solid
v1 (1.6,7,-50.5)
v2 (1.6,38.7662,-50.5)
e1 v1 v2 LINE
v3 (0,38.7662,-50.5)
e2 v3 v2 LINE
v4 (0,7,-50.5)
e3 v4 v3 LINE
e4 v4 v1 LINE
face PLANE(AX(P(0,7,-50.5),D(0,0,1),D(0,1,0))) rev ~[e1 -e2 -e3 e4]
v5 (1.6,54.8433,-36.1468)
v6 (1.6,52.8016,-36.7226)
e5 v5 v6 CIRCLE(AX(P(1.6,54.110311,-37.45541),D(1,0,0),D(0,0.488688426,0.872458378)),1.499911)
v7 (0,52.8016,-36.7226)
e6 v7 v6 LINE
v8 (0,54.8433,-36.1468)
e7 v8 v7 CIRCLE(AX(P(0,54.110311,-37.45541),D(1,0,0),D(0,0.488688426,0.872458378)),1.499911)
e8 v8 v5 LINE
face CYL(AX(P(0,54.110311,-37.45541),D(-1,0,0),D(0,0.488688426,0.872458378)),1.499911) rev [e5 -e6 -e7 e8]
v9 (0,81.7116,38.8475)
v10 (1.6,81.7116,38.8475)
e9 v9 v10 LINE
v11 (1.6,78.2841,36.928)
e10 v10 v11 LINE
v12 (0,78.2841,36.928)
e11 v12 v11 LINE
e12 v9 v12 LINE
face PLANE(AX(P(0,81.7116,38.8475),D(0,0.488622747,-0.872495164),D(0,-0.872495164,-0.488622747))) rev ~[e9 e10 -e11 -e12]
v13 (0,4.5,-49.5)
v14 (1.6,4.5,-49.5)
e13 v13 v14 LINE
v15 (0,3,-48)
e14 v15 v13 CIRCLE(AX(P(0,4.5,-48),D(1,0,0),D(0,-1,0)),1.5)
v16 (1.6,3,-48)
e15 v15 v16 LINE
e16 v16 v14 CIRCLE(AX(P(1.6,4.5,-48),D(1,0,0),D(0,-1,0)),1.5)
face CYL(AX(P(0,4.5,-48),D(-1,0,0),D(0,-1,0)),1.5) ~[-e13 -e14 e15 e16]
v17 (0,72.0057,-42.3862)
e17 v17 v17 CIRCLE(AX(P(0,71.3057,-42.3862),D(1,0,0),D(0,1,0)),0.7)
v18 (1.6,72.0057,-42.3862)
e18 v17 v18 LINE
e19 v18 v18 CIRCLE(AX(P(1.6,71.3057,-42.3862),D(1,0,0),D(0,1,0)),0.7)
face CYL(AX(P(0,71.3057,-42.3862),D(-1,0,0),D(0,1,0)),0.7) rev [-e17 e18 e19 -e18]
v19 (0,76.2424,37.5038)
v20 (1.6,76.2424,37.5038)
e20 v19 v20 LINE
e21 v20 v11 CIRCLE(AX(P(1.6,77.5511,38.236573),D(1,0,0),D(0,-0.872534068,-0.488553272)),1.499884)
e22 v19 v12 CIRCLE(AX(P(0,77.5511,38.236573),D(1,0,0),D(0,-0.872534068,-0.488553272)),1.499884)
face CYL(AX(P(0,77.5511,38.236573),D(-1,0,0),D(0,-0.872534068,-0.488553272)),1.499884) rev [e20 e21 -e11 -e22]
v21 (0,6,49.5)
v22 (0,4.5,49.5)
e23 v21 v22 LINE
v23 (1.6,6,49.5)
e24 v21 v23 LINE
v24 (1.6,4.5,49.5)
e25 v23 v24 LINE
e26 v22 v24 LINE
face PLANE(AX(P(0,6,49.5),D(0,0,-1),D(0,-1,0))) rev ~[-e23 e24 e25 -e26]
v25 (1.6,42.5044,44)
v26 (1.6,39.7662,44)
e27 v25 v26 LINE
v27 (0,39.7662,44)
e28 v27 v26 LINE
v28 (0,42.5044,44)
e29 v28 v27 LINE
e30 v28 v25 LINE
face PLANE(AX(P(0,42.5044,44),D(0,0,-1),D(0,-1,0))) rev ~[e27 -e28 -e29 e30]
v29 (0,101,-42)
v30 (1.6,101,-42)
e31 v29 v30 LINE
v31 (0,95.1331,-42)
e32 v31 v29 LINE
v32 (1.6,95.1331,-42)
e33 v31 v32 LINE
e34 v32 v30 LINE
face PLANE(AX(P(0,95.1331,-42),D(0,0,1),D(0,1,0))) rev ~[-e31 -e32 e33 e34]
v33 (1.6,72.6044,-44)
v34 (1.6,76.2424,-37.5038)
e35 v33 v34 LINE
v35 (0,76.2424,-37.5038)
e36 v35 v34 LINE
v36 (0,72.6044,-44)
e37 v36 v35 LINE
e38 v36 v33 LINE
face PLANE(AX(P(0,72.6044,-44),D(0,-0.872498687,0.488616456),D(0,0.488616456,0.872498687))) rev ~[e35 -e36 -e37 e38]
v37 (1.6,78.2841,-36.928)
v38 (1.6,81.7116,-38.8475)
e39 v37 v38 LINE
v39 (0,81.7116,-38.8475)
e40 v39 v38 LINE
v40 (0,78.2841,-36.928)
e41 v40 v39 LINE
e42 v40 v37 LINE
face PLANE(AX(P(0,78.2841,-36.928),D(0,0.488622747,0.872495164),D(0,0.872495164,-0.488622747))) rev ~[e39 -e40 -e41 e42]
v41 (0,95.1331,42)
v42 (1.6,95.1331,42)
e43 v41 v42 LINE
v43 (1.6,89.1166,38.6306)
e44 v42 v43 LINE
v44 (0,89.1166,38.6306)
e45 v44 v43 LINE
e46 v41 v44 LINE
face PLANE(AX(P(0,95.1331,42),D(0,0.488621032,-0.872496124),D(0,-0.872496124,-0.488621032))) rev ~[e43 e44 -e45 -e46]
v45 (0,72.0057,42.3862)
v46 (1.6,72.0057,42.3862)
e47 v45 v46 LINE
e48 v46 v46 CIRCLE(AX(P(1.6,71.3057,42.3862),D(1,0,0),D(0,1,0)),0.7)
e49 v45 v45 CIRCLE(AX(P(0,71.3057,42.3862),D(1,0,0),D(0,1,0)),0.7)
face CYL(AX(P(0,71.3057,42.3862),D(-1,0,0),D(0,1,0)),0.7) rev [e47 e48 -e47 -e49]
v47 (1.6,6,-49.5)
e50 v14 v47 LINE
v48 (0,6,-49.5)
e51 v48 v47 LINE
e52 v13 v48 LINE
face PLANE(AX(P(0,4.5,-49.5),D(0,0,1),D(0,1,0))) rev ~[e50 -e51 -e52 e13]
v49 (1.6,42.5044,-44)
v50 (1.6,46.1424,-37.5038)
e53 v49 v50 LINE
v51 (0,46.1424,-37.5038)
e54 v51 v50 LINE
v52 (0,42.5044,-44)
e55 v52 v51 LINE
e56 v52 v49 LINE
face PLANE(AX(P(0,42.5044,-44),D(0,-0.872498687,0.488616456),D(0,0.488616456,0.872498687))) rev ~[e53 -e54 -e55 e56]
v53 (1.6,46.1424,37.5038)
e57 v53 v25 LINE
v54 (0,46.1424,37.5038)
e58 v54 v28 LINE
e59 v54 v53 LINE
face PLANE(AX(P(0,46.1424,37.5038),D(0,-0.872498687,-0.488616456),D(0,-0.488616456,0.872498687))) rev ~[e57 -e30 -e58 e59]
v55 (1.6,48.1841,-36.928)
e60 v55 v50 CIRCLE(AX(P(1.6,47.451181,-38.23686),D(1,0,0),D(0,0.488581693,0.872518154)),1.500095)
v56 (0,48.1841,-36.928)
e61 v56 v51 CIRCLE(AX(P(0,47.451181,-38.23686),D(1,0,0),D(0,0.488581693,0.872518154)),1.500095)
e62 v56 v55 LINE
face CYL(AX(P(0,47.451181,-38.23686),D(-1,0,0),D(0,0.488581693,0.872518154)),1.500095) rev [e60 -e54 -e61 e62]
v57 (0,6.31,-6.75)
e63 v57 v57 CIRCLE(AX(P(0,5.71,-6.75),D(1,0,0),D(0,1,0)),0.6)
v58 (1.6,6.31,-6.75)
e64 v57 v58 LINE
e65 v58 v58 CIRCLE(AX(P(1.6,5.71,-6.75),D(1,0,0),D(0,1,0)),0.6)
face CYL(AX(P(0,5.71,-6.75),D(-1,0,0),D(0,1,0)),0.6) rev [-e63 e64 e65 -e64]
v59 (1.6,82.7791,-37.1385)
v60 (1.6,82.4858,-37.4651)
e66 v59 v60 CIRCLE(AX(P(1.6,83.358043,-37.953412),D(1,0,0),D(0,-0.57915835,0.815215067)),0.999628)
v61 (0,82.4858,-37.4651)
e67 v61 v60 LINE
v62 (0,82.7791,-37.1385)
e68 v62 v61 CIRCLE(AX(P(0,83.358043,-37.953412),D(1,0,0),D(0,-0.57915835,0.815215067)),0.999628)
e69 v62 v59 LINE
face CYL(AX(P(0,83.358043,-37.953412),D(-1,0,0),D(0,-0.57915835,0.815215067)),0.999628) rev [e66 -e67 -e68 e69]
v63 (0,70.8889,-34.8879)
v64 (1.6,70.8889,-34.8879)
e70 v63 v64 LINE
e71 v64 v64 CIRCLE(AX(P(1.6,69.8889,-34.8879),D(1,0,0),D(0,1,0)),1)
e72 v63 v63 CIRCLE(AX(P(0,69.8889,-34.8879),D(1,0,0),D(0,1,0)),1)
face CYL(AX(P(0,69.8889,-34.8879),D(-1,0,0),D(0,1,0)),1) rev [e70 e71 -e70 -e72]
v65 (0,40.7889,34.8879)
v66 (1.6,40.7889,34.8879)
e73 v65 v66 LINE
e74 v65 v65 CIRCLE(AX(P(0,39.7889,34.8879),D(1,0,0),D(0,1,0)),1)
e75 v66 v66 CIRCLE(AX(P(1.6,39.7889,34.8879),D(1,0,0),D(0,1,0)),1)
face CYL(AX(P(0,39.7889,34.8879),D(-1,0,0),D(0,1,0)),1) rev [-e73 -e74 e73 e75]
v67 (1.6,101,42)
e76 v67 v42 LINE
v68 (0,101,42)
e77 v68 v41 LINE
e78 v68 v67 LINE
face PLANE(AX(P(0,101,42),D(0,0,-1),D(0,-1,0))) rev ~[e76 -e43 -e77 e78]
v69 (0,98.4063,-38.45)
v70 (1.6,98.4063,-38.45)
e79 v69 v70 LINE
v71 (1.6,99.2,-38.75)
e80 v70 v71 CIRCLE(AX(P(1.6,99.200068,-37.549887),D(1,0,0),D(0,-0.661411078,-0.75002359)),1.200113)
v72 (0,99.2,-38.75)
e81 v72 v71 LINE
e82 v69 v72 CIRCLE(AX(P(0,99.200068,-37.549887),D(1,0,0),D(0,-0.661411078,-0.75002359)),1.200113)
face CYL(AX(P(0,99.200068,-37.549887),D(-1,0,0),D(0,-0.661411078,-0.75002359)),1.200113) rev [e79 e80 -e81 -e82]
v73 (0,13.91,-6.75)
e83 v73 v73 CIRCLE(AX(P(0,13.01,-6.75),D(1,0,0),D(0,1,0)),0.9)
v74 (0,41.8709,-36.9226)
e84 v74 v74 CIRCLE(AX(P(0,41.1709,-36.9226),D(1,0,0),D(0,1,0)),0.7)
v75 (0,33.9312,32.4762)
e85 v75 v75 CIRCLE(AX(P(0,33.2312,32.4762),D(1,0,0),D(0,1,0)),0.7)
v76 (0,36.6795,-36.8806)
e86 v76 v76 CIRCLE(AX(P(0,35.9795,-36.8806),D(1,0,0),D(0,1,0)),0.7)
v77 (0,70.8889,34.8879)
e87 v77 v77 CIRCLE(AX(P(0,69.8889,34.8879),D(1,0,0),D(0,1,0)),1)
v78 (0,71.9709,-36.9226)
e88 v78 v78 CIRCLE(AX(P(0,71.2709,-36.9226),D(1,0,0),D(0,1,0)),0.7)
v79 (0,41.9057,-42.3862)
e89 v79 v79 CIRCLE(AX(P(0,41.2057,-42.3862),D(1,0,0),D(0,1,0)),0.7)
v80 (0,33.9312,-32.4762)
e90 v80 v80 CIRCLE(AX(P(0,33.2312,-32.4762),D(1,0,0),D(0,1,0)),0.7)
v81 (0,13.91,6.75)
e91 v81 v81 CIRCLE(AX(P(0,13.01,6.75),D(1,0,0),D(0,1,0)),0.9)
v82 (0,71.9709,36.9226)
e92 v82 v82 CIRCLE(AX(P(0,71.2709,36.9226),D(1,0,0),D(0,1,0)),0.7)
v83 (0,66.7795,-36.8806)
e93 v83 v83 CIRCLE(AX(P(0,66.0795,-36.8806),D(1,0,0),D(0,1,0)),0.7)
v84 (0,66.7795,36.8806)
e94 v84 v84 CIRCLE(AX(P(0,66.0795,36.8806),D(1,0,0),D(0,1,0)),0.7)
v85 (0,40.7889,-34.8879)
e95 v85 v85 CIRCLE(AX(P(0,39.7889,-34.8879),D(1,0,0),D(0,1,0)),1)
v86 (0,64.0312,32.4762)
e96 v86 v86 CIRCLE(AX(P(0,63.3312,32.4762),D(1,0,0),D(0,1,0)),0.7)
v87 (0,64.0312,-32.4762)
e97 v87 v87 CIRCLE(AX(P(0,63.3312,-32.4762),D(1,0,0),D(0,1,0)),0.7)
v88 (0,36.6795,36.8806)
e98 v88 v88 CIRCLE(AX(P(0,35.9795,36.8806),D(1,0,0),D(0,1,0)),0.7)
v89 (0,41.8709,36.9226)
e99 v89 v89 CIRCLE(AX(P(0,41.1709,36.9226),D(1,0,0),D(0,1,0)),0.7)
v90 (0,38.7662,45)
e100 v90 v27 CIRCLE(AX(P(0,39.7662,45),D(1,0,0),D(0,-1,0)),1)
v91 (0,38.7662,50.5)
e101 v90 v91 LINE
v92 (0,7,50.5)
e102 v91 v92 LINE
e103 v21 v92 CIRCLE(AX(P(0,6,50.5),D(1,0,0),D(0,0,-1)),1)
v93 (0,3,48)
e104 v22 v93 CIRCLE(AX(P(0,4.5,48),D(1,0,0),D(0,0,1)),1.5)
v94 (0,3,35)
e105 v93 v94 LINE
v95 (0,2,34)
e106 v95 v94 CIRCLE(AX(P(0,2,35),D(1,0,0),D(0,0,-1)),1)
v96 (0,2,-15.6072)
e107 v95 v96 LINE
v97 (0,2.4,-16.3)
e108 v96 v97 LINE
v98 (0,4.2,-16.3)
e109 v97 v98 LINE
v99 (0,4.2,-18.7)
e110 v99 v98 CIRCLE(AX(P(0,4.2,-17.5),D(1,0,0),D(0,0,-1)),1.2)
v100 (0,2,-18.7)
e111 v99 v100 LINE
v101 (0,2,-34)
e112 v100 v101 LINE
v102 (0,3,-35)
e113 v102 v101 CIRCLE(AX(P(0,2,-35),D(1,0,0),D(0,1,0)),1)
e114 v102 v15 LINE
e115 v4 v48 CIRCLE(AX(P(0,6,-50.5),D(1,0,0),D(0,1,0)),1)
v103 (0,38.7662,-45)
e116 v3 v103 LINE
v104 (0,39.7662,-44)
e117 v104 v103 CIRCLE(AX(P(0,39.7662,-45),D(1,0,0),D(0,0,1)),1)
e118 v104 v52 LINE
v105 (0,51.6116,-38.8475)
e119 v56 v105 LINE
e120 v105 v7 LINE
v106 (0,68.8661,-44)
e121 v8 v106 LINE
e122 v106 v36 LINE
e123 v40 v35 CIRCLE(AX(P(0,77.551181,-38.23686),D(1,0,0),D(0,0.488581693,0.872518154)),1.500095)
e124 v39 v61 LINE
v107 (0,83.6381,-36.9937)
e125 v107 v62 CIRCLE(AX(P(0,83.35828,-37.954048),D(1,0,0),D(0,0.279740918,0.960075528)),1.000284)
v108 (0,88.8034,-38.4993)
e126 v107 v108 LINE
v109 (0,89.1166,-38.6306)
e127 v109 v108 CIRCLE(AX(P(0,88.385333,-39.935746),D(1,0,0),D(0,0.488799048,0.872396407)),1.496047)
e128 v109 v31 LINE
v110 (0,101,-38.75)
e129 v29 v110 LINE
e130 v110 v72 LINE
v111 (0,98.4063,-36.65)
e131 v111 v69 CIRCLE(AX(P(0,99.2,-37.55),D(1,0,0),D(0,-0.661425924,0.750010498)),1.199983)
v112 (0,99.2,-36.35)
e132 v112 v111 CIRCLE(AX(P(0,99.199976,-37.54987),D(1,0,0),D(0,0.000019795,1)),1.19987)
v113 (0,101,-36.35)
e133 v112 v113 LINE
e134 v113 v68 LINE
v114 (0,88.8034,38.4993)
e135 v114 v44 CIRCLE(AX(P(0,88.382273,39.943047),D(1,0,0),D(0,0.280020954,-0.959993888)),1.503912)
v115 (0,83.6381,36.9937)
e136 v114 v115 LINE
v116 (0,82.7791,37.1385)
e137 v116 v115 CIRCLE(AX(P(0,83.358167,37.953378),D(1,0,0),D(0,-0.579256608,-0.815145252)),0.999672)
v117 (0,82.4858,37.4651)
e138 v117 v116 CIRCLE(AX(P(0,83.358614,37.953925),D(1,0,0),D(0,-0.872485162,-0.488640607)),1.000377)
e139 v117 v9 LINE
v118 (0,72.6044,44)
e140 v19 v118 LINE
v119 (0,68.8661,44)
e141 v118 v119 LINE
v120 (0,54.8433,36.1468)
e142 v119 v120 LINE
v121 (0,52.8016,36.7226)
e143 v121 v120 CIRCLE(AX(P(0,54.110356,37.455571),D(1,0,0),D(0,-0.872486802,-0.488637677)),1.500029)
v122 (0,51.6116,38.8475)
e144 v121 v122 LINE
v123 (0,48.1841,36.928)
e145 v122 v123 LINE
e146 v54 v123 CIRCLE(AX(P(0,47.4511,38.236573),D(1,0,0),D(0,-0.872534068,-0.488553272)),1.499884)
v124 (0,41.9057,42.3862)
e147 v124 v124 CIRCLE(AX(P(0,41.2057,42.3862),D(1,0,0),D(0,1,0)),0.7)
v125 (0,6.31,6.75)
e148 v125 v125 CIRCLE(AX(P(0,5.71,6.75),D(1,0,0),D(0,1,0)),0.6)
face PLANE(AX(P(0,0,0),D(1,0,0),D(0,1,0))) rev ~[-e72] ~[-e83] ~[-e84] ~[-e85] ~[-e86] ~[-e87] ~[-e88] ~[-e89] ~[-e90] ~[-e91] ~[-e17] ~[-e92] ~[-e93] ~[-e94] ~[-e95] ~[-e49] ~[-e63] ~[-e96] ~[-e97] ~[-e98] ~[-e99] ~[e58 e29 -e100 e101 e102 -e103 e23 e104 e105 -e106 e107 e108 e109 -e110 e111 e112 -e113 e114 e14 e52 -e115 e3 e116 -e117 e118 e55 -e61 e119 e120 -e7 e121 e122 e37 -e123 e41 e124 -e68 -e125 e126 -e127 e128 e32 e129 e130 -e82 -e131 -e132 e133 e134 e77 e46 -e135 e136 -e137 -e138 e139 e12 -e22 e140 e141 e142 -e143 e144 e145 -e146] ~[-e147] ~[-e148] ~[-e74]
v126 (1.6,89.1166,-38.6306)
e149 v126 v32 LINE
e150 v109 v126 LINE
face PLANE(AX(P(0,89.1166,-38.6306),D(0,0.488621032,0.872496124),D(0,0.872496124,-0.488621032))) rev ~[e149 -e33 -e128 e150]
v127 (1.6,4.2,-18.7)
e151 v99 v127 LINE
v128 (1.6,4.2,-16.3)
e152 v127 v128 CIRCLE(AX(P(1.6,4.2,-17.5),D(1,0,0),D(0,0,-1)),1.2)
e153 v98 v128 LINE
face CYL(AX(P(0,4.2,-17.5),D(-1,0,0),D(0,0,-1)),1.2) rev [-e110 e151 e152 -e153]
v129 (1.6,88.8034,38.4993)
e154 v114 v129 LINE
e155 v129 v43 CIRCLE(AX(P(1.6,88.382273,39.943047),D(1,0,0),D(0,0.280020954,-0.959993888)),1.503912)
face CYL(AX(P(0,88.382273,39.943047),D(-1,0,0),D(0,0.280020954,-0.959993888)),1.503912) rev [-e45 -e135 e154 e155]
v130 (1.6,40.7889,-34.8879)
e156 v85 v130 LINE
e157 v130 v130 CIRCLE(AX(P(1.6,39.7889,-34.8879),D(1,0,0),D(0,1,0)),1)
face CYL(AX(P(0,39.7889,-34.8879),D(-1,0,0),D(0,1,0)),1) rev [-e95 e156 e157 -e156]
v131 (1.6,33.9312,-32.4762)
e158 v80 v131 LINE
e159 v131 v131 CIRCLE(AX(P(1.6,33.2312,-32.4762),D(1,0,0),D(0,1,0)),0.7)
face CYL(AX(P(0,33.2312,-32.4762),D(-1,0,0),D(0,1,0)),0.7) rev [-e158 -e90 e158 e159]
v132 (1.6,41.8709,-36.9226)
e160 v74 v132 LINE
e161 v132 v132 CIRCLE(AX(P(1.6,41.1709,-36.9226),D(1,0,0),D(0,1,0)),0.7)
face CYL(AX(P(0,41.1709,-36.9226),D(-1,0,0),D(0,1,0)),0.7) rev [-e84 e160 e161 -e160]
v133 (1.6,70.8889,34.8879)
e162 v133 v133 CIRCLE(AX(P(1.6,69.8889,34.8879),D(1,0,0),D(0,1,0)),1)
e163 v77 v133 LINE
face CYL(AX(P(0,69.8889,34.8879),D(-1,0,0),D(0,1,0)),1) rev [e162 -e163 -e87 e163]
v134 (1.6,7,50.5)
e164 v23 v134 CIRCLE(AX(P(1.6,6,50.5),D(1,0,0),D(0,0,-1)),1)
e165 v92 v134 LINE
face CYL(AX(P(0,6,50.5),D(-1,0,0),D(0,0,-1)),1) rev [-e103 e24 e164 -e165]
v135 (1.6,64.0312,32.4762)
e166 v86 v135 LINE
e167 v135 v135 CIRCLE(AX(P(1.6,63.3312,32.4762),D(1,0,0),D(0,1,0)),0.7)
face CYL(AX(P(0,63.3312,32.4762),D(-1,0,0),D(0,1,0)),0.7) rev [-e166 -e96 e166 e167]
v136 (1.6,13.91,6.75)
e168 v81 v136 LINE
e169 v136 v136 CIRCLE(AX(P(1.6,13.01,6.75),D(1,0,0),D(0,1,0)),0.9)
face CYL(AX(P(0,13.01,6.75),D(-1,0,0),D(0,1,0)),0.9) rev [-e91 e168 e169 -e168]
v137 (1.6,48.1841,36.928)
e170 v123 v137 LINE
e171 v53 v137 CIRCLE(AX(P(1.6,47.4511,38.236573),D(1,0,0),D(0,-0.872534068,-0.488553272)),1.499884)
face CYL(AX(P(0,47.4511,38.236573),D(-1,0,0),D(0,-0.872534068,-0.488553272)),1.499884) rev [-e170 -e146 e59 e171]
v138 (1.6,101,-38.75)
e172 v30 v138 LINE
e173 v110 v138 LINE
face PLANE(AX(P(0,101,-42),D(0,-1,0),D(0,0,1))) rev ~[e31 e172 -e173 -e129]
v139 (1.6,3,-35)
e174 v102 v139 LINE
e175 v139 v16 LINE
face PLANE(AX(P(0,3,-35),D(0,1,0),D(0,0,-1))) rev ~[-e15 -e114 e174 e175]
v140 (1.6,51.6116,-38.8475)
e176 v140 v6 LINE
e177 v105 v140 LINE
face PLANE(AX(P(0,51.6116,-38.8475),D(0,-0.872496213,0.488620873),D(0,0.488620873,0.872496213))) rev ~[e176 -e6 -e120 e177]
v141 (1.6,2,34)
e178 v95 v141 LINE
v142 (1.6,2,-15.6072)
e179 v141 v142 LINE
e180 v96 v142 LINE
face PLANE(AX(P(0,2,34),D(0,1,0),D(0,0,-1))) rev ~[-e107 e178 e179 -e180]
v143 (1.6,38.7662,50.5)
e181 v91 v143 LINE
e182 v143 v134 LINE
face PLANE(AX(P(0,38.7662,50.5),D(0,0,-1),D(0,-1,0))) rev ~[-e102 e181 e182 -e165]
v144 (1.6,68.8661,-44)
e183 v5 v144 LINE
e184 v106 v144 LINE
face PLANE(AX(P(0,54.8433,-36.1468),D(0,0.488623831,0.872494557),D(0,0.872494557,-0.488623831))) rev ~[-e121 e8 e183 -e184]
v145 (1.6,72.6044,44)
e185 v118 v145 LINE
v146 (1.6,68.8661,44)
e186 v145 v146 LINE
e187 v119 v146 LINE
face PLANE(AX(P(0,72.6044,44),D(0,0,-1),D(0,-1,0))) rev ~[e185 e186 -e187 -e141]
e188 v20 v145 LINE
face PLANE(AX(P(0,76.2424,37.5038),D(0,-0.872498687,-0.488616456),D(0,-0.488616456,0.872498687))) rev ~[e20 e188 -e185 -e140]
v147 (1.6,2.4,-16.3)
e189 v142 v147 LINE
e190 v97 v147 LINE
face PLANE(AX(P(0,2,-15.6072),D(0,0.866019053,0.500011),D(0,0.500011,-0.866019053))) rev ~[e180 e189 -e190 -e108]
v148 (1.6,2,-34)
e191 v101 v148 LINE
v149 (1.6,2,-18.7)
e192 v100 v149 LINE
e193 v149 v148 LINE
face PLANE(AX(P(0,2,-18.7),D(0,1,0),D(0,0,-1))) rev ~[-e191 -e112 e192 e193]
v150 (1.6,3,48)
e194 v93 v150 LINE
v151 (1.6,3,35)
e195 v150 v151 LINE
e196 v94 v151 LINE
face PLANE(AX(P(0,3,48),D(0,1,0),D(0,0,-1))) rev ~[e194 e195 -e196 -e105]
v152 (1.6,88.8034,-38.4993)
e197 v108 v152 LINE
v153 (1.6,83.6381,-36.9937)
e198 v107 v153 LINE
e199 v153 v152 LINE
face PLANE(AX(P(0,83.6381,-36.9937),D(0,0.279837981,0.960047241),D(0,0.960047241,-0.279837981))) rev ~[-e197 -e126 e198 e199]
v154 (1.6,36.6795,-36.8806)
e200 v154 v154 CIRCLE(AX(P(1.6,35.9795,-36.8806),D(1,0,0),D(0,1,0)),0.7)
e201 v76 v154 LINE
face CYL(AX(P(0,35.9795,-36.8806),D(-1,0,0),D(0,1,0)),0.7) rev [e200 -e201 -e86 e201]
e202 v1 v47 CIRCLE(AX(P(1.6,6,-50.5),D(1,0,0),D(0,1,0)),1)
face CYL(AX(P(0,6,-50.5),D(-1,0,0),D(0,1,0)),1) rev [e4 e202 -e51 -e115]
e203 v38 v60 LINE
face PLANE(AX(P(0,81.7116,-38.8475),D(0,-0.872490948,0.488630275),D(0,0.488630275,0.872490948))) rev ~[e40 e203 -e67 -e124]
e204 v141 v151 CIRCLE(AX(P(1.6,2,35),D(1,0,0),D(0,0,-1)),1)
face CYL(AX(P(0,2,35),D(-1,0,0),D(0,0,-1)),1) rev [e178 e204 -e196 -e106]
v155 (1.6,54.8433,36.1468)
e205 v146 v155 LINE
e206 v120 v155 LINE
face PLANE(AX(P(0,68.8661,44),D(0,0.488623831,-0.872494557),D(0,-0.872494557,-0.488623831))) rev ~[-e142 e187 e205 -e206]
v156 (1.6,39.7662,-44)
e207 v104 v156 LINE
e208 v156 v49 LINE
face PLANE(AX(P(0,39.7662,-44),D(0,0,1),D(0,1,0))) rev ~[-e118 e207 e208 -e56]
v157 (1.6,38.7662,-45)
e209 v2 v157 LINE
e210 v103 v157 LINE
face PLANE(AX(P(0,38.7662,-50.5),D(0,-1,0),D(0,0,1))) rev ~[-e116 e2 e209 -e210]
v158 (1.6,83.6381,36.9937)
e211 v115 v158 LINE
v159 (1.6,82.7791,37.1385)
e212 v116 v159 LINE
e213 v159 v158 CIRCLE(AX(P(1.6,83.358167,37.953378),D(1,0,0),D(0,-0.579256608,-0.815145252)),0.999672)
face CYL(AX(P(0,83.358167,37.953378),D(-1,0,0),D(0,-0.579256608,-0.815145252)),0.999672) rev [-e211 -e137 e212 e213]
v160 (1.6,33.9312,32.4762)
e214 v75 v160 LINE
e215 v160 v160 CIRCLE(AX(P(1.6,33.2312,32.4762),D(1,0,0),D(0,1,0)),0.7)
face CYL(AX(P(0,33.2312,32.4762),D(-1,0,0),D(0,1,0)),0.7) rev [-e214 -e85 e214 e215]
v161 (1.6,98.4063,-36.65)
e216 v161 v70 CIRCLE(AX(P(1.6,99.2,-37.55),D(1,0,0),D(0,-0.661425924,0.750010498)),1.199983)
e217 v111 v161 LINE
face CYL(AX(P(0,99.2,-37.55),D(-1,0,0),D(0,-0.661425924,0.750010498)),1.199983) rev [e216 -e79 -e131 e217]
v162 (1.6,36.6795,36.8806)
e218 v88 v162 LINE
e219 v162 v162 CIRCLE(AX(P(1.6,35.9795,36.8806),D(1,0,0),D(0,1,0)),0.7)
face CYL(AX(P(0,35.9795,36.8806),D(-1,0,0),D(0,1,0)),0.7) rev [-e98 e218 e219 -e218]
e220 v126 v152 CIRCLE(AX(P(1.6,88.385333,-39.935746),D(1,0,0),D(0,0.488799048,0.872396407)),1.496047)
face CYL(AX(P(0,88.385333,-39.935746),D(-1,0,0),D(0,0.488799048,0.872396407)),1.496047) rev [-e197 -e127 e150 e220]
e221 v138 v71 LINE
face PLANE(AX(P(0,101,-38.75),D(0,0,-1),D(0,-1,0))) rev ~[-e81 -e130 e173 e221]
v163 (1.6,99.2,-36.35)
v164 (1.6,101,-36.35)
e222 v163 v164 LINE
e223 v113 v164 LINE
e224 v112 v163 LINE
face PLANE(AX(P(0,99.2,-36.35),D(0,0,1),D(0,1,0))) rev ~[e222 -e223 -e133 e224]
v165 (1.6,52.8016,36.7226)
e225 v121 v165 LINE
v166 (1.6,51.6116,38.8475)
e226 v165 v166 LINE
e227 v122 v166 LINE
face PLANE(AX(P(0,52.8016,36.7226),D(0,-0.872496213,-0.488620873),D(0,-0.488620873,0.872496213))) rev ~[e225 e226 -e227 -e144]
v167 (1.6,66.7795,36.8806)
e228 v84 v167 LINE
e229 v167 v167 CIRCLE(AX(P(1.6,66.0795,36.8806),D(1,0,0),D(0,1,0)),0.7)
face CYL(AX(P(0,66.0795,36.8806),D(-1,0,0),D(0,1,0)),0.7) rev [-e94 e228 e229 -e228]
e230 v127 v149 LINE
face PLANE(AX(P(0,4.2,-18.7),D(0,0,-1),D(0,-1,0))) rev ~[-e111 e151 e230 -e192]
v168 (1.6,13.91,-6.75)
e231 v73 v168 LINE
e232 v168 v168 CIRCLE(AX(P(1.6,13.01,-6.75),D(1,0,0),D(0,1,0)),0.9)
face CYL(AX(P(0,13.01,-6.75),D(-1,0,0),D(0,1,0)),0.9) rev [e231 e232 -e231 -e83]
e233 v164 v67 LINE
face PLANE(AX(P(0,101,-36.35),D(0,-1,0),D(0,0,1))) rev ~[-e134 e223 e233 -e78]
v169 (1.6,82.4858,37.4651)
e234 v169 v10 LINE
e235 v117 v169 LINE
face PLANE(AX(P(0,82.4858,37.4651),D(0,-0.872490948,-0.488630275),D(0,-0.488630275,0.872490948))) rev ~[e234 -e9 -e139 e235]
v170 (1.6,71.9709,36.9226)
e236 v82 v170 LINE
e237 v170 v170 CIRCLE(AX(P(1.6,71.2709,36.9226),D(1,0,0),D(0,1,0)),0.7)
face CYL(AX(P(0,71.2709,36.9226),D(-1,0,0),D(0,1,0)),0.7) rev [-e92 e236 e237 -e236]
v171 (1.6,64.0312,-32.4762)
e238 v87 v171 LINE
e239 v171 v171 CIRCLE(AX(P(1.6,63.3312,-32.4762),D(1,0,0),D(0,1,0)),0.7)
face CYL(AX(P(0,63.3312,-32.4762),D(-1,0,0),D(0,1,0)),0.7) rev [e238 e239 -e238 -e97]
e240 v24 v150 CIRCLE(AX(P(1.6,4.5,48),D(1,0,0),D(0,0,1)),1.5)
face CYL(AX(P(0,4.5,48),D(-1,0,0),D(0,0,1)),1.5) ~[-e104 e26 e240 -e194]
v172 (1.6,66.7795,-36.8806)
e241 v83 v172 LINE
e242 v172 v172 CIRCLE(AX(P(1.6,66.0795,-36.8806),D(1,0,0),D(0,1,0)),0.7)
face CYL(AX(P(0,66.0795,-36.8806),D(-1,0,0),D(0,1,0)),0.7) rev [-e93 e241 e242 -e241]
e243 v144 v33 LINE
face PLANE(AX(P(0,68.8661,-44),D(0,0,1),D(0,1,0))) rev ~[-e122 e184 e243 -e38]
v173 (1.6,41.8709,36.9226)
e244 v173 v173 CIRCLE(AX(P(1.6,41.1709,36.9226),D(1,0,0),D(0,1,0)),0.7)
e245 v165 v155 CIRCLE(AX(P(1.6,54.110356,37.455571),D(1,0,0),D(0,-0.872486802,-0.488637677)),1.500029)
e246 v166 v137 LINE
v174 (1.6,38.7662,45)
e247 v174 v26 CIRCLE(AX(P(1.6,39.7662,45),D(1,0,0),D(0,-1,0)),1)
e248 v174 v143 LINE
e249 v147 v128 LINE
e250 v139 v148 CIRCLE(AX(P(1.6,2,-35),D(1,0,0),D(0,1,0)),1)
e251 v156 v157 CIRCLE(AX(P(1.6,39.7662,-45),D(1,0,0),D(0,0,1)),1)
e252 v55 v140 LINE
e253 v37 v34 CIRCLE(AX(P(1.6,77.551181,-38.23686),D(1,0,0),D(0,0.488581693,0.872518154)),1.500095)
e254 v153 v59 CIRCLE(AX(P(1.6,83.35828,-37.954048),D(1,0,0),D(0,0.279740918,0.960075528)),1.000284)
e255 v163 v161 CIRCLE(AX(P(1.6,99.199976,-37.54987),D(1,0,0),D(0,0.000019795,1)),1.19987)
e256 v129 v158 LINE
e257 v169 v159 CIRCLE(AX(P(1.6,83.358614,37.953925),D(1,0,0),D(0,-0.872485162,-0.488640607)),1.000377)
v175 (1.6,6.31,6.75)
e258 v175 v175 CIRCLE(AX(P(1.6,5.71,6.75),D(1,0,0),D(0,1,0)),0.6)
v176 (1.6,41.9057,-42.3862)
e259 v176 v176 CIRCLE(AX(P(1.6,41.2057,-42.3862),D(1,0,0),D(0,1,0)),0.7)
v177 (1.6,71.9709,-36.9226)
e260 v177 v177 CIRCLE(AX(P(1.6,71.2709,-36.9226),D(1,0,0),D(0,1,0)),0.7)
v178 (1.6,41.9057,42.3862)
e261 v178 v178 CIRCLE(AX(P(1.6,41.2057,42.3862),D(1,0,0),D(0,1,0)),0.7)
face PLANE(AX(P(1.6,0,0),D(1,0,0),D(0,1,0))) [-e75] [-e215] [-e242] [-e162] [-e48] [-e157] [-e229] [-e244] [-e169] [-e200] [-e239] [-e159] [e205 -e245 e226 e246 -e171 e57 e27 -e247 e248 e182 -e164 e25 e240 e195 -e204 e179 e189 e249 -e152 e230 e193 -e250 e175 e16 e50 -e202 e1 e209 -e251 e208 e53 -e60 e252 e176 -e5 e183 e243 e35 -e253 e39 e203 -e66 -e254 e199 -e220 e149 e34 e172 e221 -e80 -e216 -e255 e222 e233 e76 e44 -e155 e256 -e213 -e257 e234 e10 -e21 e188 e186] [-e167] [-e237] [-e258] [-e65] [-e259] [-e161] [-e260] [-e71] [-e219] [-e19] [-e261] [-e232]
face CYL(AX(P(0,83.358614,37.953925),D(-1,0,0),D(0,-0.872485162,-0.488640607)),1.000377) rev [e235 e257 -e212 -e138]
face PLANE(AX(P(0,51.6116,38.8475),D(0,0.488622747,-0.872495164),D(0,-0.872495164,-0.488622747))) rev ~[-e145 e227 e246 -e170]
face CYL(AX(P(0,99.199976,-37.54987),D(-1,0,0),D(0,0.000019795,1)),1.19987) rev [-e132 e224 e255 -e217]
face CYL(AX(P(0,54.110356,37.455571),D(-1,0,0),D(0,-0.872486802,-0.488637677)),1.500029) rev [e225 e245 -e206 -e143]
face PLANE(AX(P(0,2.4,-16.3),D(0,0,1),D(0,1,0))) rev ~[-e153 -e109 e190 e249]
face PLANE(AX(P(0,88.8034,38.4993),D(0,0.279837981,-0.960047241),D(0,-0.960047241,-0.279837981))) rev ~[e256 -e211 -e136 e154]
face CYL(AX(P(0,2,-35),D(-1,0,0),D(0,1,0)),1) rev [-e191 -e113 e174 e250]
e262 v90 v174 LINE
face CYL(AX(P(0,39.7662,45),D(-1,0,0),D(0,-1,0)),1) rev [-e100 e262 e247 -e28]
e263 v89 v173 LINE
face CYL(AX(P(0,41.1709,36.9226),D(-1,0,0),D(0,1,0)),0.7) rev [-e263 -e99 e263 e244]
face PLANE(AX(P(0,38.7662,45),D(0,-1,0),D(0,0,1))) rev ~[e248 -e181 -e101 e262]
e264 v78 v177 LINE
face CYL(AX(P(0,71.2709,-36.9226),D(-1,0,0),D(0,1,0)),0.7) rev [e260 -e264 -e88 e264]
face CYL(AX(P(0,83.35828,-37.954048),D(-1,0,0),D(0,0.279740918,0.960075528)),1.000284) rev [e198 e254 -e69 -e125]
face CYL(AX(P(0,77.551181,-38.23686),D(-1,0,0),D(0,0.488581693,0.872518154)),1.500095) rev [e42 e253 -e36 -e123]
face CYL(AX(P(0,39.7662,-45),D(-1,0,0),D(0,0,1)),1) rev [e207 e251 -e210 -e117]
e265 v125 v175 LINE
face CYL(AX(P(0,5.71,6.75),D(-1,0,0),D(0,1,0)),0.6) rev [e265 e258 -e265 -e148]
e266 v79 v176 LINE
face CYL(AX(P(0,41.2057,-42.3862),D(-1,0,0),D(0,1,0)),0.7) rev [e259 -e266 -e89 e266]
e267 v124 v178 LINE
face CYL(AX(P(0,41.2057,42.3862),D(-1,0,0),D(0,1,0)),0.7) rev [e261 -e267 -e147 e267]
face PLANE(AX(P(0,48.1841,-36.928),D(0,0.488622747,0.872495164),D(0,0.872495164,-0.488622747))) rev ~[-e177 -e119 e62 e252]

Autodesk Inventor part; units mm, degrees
sketch "Sketch_2" plane through (0, 0, 0) normal (1, 0, 0) x (0, 1, 0)
  arc A0 (6, 49.5) -> (7, 50.5) centre (6, 50.5) ccw
  line L0 (6, 49.5) -> (4.5, 49.5)
  arc A1 (4.5, 49.5) -> (3, 48) centre (4.5, 48) ccw
  line L1 (3, 48) -> (3, 35)
  arc A2 (2, 34) -> (3, 35) centre (2, 35) ccw
  line L2 (2, 34) -> (2, -15.6072)
  line L3 (2, -15.6072) -> (2.4, -16.3)
  line L4 (2.4, -16.3) -> (4.2, -16.3)
  arc A3 (4.2, -18.7) -> (4.2, -16.3) centre (4.2, -17.5) ccw
  line L5 (4.2, -18.7) -> (2, -18.7)
  line L6 (2, -18.7) -> (2, -34)
  arc A4 (3, -35) -> (2, -34) centre (2, -35) ccw
  line L7 (3, -35) -> (3, -48)
  arc A5 (3, -48) -> (4.5, -49.5) centre (4.5, -48) ccw
  line L8 (4.5, -49.5) -> (6, -49.5)
  arc A6 (7, -50.5) -> (6, -49.5) centre (6, -50.5) ccw
  line L9 (7, -50.5) -> (38.7662, -50.5)
  line L10 (38.7662, -50.5) -> (38.7662, -45)
  arc A7 (39.7662, -44) -> (38.7662, -45) centre (39.7662, -45) ccw
  line L11 (39.7662, -44) -> (42.5044, -44)
  line L12 (42.5044, -44) -> (46.1424, -37.5038)
  arc A8 (48.1841, -36.928) -> (46.1424, -37.5038) centre (47.4512, -38.2367) ccw
  line L13 (48.1841, -36.928) -> (51.6116, -38.8475)
  line L14 (51.6116, -38.8475) -> (52.8016, -36.7226)
  arc A9 (54.8433, -36.1468) -> (52.8016, -36.7226) centre (54.1103, -37.4555) ccw
  line L15 (54.8433, -36.1468) -> (68.8661, -44)
  line L16 (68.8661, -44) -> (72.6044, -44)
  line L17 (72.6044, -44) -> (76.2424, -37.5038)
  arc A10 (78.2841, -36.928) -> (76.2424, -37.5038) centre (77.5512, -38.2367) ccw
  line L18 (78.2841, -36.928) -> (81.7116, -38.8475)
  line L19 (81.7116, -38.8475) -> (82.4858, -37.4651)
  arc A11 (82.7791, -37.1385) -> (82.4858, -37.4651) centre (83.3583, -37.9537) ccw
  arc A12 (83.6381, -36.9937) -> (82.7791, -37.1385) centre (83.3583, -37.9537) ccw
  line L20 (83.6381, -36.9937) -> (88.8034, -38.4993)
  arc A13 (89.1166, -38.6306) -> (88.8034, -38.4993) centre (88.3836, -39.9393) ccw
  line L21 (89.1166, -38.6306) -> (95.1331, -42)
  line L22 (95.1331, -42) -> (101, -42)
  line L23 (101, -42) -> (101, -38.75)
  line L24 (101, -38.75) -> (99.2, -38.75)
  arc A14 (98.4063, -38.45) -> (99.2, -38.75) centre (99.2, -37.55) ccw
  arc A15 (98.4063, -36.65) -> (98.4063, -38.45) centre (99.2, -37.55) ccw
  arc A16 (99.2, -36.35) -> (98.4063, -36.65) centre (99.2, -37.55) ccw
  line L25 (99.2, -36.35) -> (101, -36.35)
  line L26 (101, -36.35) -> (101, 42)
  line L27 (101, 42) -> (95.1331, 42)
  line L28 (95.1331, 42) -> (89.1166, 38.6306)
  arc A17 (88.8034, 38.4993) -> (89.1166, 38.6306) centre (88.3836, 39.9393) ccw
  line L29 (88.8034, 38.4993) -> (83.6381, 36.9937)
  arc A18 (82.7791, 37.1385) -> (83.6381, 36.9937) centre (83.3583, 37.9537) ccw
  arc A19 (82.4858, 37.4651) -> (82.7791, 37.1385) centre (83.3583, 37.9537) ccw
  line L30 (82.4858, 37.4651) -> (81.7116, 38.8475)
  line L31 (81.7116, 38.8475) -> (78.2841, 36.928)
  arc A20 (76.2424, 37.5038) -> (78.2841, 36.928) centre (77.5512, 38.2367) ccw
  line L32 (76.2424, 37.5038) -> (72.6044, 44)
  line L33 (72.6044, 44) -> (68.8661, 44)
  line L34 (68.8661, 44) -> (54.8433, 36.1468)
  arc A21 (52.8016, 36.7226) -> (54.8433, 36.1468) centre (54.1103, 37.4555) ccw
  line L35 (52.8016, 36.7226) -> (51.6116, 38.8475)
  line L36 (51.6116, 38.8475) -> (48.1841, 36.928)
  arc A22 (46.1424, 37.5038) -> (48.1841, 36.928) centre (47.4512, 38.2367) ccw
  line L37 (46.1424, 37.5038) -> (42.5044, 44)
  line L38 (42.5044, 44) -> (39.7662, 44)
  arc A23 (38.7662, 45) -> (39.7662, 44) centre (39.7662, 45) ccw
  line L39 (38.7662, 45) -> (38.7662, 50.5)
  line L40 (38.7662, 50.5) -> (7, 50.5)
  circle A24 centre (41.2057, -42.3862) radius 0.7
  circle A25 centre (71.3057, -42.3862) radius 0.7
  circle A26 centre (41.1709, -36.9226) radius 0.7
  circle A27 centre (71.2709, -36.9226) radius 0.7
  circle A28 centre (35.9795, -36.8806) radius 0.7
  circle A29 centre (66.0795, -36.8806) radius 0.7
  circle A30 centre (39.7889, -34.8879) radius 1
  circle A31 centre (69.8889, -34.8879) radius 1
  circle A32 centre (33.2312, -32.4762) radius 0.7
  circle A33 centre (63.3312, -32.4762) radius 0.7
  circle A34 centre (5.71, -6.75) radius 0.6
  circle A35 centre (13.01, -6.75) radius 0.9
  circle A36 centre (5.71, 6.75) radius 0.6
  circle A37 centre (13.01, 6.75) radius 0.9
  circle A38 centre (63.3312, 32.4762) radius 0.7
  circle A39 centre (33.2312, 32.4762) radius 0.7
  circle A40 centre (69.8889, 34.8879) radius 1
  circle A41 centre (39.7889, 34.8879) radius 1
  circle A42 centre (66.0795, 36.8806) radius 0.7
  circle A43 centre (35.9795, 36.8806) radius 0.7
  circle A44 centre (71.2709, 36.9226) radius 0.7
  circle A45 centre (41.1709, 36.9226) radius 0.7
  circle A46 centre (71.3057, 42.3862) radius 0.7
  circle A47 centre (41.2057, 42.3862) radius 0.7
extrude "Extrusion1" add sketch "Sketch_2" along normal blind 1.6
ref_plane "LPmitBASE_XY" through (0, 0, 0) normal (1, 0, 0) x (0, 0, -1)
ref_plane "LPmitBASE_YZ" through (0, 0, 0) normal (0, 0, -1) x (0, 1, 0)
ref_plane "LPmitBASE_ZX" through (0, 0, 0) normal (0, 1, 0) x (1, 0, 0)
ref_plane "mitSHL01_XY" through (0, 41.2057, -42.3862) normal (1, 0, 0) x (0, 0, -1)
ref_plane "mitSHL01_YZ" through (0, 41.2057, -42.3862) normal (0, 0, -1) x (0, 1, 0)
ref_plane "mitSHL01_ZX" through (0, 41.2057, -42.3862) normal (0, 1, 0) x (1, 0, 0)
ref_plane "mitSHL02_XY" through (0, 71.3057, -42.3862) normal (1, 0, 0) x (0, 0, -1)
ref_plane "mitSHL02_YZ" through (0, 71.3057, -42.3862) normal (0, 0, -1) x (0, 1, 0)
ref_plane "mitSHL02_ZX" through (0, 71.3057, -42.3862) normal (0, 1, 0) x (1, 0, 0)
ref_plane "mitSHL03_XY" through (0, 41.2057, 42.3862) normal (1, 0, 0) x (0, 0, -1)
ref_plane "mitSHL03_YZ" through (0, 41.2057, 42.3862) normal (0, 0, -1) x (0, 1, 0)
ref_plane "mitSHL03_ZX" through (0, 41.2057, 42.3862) normal (0, 1, 0) x (1, 0, 0)
ref_plane "mitSHL04_XY" through (0, 71.3057, 42.3862) normal (1, 0, 0) x (0, 0, -1)
ref_plane "mitSHL04_YZ" through (0, 71.3057, 42.3862) normal (0, 0, -1) x (0, 1, 0)
ref_plane "mitSHL04_ZX" through (0, 71.3057, 42.3862) normal (0, 1, 0) x (1, 0, 0)
properties part number "LP CH20M 5.0 2 PCB_5-2"
